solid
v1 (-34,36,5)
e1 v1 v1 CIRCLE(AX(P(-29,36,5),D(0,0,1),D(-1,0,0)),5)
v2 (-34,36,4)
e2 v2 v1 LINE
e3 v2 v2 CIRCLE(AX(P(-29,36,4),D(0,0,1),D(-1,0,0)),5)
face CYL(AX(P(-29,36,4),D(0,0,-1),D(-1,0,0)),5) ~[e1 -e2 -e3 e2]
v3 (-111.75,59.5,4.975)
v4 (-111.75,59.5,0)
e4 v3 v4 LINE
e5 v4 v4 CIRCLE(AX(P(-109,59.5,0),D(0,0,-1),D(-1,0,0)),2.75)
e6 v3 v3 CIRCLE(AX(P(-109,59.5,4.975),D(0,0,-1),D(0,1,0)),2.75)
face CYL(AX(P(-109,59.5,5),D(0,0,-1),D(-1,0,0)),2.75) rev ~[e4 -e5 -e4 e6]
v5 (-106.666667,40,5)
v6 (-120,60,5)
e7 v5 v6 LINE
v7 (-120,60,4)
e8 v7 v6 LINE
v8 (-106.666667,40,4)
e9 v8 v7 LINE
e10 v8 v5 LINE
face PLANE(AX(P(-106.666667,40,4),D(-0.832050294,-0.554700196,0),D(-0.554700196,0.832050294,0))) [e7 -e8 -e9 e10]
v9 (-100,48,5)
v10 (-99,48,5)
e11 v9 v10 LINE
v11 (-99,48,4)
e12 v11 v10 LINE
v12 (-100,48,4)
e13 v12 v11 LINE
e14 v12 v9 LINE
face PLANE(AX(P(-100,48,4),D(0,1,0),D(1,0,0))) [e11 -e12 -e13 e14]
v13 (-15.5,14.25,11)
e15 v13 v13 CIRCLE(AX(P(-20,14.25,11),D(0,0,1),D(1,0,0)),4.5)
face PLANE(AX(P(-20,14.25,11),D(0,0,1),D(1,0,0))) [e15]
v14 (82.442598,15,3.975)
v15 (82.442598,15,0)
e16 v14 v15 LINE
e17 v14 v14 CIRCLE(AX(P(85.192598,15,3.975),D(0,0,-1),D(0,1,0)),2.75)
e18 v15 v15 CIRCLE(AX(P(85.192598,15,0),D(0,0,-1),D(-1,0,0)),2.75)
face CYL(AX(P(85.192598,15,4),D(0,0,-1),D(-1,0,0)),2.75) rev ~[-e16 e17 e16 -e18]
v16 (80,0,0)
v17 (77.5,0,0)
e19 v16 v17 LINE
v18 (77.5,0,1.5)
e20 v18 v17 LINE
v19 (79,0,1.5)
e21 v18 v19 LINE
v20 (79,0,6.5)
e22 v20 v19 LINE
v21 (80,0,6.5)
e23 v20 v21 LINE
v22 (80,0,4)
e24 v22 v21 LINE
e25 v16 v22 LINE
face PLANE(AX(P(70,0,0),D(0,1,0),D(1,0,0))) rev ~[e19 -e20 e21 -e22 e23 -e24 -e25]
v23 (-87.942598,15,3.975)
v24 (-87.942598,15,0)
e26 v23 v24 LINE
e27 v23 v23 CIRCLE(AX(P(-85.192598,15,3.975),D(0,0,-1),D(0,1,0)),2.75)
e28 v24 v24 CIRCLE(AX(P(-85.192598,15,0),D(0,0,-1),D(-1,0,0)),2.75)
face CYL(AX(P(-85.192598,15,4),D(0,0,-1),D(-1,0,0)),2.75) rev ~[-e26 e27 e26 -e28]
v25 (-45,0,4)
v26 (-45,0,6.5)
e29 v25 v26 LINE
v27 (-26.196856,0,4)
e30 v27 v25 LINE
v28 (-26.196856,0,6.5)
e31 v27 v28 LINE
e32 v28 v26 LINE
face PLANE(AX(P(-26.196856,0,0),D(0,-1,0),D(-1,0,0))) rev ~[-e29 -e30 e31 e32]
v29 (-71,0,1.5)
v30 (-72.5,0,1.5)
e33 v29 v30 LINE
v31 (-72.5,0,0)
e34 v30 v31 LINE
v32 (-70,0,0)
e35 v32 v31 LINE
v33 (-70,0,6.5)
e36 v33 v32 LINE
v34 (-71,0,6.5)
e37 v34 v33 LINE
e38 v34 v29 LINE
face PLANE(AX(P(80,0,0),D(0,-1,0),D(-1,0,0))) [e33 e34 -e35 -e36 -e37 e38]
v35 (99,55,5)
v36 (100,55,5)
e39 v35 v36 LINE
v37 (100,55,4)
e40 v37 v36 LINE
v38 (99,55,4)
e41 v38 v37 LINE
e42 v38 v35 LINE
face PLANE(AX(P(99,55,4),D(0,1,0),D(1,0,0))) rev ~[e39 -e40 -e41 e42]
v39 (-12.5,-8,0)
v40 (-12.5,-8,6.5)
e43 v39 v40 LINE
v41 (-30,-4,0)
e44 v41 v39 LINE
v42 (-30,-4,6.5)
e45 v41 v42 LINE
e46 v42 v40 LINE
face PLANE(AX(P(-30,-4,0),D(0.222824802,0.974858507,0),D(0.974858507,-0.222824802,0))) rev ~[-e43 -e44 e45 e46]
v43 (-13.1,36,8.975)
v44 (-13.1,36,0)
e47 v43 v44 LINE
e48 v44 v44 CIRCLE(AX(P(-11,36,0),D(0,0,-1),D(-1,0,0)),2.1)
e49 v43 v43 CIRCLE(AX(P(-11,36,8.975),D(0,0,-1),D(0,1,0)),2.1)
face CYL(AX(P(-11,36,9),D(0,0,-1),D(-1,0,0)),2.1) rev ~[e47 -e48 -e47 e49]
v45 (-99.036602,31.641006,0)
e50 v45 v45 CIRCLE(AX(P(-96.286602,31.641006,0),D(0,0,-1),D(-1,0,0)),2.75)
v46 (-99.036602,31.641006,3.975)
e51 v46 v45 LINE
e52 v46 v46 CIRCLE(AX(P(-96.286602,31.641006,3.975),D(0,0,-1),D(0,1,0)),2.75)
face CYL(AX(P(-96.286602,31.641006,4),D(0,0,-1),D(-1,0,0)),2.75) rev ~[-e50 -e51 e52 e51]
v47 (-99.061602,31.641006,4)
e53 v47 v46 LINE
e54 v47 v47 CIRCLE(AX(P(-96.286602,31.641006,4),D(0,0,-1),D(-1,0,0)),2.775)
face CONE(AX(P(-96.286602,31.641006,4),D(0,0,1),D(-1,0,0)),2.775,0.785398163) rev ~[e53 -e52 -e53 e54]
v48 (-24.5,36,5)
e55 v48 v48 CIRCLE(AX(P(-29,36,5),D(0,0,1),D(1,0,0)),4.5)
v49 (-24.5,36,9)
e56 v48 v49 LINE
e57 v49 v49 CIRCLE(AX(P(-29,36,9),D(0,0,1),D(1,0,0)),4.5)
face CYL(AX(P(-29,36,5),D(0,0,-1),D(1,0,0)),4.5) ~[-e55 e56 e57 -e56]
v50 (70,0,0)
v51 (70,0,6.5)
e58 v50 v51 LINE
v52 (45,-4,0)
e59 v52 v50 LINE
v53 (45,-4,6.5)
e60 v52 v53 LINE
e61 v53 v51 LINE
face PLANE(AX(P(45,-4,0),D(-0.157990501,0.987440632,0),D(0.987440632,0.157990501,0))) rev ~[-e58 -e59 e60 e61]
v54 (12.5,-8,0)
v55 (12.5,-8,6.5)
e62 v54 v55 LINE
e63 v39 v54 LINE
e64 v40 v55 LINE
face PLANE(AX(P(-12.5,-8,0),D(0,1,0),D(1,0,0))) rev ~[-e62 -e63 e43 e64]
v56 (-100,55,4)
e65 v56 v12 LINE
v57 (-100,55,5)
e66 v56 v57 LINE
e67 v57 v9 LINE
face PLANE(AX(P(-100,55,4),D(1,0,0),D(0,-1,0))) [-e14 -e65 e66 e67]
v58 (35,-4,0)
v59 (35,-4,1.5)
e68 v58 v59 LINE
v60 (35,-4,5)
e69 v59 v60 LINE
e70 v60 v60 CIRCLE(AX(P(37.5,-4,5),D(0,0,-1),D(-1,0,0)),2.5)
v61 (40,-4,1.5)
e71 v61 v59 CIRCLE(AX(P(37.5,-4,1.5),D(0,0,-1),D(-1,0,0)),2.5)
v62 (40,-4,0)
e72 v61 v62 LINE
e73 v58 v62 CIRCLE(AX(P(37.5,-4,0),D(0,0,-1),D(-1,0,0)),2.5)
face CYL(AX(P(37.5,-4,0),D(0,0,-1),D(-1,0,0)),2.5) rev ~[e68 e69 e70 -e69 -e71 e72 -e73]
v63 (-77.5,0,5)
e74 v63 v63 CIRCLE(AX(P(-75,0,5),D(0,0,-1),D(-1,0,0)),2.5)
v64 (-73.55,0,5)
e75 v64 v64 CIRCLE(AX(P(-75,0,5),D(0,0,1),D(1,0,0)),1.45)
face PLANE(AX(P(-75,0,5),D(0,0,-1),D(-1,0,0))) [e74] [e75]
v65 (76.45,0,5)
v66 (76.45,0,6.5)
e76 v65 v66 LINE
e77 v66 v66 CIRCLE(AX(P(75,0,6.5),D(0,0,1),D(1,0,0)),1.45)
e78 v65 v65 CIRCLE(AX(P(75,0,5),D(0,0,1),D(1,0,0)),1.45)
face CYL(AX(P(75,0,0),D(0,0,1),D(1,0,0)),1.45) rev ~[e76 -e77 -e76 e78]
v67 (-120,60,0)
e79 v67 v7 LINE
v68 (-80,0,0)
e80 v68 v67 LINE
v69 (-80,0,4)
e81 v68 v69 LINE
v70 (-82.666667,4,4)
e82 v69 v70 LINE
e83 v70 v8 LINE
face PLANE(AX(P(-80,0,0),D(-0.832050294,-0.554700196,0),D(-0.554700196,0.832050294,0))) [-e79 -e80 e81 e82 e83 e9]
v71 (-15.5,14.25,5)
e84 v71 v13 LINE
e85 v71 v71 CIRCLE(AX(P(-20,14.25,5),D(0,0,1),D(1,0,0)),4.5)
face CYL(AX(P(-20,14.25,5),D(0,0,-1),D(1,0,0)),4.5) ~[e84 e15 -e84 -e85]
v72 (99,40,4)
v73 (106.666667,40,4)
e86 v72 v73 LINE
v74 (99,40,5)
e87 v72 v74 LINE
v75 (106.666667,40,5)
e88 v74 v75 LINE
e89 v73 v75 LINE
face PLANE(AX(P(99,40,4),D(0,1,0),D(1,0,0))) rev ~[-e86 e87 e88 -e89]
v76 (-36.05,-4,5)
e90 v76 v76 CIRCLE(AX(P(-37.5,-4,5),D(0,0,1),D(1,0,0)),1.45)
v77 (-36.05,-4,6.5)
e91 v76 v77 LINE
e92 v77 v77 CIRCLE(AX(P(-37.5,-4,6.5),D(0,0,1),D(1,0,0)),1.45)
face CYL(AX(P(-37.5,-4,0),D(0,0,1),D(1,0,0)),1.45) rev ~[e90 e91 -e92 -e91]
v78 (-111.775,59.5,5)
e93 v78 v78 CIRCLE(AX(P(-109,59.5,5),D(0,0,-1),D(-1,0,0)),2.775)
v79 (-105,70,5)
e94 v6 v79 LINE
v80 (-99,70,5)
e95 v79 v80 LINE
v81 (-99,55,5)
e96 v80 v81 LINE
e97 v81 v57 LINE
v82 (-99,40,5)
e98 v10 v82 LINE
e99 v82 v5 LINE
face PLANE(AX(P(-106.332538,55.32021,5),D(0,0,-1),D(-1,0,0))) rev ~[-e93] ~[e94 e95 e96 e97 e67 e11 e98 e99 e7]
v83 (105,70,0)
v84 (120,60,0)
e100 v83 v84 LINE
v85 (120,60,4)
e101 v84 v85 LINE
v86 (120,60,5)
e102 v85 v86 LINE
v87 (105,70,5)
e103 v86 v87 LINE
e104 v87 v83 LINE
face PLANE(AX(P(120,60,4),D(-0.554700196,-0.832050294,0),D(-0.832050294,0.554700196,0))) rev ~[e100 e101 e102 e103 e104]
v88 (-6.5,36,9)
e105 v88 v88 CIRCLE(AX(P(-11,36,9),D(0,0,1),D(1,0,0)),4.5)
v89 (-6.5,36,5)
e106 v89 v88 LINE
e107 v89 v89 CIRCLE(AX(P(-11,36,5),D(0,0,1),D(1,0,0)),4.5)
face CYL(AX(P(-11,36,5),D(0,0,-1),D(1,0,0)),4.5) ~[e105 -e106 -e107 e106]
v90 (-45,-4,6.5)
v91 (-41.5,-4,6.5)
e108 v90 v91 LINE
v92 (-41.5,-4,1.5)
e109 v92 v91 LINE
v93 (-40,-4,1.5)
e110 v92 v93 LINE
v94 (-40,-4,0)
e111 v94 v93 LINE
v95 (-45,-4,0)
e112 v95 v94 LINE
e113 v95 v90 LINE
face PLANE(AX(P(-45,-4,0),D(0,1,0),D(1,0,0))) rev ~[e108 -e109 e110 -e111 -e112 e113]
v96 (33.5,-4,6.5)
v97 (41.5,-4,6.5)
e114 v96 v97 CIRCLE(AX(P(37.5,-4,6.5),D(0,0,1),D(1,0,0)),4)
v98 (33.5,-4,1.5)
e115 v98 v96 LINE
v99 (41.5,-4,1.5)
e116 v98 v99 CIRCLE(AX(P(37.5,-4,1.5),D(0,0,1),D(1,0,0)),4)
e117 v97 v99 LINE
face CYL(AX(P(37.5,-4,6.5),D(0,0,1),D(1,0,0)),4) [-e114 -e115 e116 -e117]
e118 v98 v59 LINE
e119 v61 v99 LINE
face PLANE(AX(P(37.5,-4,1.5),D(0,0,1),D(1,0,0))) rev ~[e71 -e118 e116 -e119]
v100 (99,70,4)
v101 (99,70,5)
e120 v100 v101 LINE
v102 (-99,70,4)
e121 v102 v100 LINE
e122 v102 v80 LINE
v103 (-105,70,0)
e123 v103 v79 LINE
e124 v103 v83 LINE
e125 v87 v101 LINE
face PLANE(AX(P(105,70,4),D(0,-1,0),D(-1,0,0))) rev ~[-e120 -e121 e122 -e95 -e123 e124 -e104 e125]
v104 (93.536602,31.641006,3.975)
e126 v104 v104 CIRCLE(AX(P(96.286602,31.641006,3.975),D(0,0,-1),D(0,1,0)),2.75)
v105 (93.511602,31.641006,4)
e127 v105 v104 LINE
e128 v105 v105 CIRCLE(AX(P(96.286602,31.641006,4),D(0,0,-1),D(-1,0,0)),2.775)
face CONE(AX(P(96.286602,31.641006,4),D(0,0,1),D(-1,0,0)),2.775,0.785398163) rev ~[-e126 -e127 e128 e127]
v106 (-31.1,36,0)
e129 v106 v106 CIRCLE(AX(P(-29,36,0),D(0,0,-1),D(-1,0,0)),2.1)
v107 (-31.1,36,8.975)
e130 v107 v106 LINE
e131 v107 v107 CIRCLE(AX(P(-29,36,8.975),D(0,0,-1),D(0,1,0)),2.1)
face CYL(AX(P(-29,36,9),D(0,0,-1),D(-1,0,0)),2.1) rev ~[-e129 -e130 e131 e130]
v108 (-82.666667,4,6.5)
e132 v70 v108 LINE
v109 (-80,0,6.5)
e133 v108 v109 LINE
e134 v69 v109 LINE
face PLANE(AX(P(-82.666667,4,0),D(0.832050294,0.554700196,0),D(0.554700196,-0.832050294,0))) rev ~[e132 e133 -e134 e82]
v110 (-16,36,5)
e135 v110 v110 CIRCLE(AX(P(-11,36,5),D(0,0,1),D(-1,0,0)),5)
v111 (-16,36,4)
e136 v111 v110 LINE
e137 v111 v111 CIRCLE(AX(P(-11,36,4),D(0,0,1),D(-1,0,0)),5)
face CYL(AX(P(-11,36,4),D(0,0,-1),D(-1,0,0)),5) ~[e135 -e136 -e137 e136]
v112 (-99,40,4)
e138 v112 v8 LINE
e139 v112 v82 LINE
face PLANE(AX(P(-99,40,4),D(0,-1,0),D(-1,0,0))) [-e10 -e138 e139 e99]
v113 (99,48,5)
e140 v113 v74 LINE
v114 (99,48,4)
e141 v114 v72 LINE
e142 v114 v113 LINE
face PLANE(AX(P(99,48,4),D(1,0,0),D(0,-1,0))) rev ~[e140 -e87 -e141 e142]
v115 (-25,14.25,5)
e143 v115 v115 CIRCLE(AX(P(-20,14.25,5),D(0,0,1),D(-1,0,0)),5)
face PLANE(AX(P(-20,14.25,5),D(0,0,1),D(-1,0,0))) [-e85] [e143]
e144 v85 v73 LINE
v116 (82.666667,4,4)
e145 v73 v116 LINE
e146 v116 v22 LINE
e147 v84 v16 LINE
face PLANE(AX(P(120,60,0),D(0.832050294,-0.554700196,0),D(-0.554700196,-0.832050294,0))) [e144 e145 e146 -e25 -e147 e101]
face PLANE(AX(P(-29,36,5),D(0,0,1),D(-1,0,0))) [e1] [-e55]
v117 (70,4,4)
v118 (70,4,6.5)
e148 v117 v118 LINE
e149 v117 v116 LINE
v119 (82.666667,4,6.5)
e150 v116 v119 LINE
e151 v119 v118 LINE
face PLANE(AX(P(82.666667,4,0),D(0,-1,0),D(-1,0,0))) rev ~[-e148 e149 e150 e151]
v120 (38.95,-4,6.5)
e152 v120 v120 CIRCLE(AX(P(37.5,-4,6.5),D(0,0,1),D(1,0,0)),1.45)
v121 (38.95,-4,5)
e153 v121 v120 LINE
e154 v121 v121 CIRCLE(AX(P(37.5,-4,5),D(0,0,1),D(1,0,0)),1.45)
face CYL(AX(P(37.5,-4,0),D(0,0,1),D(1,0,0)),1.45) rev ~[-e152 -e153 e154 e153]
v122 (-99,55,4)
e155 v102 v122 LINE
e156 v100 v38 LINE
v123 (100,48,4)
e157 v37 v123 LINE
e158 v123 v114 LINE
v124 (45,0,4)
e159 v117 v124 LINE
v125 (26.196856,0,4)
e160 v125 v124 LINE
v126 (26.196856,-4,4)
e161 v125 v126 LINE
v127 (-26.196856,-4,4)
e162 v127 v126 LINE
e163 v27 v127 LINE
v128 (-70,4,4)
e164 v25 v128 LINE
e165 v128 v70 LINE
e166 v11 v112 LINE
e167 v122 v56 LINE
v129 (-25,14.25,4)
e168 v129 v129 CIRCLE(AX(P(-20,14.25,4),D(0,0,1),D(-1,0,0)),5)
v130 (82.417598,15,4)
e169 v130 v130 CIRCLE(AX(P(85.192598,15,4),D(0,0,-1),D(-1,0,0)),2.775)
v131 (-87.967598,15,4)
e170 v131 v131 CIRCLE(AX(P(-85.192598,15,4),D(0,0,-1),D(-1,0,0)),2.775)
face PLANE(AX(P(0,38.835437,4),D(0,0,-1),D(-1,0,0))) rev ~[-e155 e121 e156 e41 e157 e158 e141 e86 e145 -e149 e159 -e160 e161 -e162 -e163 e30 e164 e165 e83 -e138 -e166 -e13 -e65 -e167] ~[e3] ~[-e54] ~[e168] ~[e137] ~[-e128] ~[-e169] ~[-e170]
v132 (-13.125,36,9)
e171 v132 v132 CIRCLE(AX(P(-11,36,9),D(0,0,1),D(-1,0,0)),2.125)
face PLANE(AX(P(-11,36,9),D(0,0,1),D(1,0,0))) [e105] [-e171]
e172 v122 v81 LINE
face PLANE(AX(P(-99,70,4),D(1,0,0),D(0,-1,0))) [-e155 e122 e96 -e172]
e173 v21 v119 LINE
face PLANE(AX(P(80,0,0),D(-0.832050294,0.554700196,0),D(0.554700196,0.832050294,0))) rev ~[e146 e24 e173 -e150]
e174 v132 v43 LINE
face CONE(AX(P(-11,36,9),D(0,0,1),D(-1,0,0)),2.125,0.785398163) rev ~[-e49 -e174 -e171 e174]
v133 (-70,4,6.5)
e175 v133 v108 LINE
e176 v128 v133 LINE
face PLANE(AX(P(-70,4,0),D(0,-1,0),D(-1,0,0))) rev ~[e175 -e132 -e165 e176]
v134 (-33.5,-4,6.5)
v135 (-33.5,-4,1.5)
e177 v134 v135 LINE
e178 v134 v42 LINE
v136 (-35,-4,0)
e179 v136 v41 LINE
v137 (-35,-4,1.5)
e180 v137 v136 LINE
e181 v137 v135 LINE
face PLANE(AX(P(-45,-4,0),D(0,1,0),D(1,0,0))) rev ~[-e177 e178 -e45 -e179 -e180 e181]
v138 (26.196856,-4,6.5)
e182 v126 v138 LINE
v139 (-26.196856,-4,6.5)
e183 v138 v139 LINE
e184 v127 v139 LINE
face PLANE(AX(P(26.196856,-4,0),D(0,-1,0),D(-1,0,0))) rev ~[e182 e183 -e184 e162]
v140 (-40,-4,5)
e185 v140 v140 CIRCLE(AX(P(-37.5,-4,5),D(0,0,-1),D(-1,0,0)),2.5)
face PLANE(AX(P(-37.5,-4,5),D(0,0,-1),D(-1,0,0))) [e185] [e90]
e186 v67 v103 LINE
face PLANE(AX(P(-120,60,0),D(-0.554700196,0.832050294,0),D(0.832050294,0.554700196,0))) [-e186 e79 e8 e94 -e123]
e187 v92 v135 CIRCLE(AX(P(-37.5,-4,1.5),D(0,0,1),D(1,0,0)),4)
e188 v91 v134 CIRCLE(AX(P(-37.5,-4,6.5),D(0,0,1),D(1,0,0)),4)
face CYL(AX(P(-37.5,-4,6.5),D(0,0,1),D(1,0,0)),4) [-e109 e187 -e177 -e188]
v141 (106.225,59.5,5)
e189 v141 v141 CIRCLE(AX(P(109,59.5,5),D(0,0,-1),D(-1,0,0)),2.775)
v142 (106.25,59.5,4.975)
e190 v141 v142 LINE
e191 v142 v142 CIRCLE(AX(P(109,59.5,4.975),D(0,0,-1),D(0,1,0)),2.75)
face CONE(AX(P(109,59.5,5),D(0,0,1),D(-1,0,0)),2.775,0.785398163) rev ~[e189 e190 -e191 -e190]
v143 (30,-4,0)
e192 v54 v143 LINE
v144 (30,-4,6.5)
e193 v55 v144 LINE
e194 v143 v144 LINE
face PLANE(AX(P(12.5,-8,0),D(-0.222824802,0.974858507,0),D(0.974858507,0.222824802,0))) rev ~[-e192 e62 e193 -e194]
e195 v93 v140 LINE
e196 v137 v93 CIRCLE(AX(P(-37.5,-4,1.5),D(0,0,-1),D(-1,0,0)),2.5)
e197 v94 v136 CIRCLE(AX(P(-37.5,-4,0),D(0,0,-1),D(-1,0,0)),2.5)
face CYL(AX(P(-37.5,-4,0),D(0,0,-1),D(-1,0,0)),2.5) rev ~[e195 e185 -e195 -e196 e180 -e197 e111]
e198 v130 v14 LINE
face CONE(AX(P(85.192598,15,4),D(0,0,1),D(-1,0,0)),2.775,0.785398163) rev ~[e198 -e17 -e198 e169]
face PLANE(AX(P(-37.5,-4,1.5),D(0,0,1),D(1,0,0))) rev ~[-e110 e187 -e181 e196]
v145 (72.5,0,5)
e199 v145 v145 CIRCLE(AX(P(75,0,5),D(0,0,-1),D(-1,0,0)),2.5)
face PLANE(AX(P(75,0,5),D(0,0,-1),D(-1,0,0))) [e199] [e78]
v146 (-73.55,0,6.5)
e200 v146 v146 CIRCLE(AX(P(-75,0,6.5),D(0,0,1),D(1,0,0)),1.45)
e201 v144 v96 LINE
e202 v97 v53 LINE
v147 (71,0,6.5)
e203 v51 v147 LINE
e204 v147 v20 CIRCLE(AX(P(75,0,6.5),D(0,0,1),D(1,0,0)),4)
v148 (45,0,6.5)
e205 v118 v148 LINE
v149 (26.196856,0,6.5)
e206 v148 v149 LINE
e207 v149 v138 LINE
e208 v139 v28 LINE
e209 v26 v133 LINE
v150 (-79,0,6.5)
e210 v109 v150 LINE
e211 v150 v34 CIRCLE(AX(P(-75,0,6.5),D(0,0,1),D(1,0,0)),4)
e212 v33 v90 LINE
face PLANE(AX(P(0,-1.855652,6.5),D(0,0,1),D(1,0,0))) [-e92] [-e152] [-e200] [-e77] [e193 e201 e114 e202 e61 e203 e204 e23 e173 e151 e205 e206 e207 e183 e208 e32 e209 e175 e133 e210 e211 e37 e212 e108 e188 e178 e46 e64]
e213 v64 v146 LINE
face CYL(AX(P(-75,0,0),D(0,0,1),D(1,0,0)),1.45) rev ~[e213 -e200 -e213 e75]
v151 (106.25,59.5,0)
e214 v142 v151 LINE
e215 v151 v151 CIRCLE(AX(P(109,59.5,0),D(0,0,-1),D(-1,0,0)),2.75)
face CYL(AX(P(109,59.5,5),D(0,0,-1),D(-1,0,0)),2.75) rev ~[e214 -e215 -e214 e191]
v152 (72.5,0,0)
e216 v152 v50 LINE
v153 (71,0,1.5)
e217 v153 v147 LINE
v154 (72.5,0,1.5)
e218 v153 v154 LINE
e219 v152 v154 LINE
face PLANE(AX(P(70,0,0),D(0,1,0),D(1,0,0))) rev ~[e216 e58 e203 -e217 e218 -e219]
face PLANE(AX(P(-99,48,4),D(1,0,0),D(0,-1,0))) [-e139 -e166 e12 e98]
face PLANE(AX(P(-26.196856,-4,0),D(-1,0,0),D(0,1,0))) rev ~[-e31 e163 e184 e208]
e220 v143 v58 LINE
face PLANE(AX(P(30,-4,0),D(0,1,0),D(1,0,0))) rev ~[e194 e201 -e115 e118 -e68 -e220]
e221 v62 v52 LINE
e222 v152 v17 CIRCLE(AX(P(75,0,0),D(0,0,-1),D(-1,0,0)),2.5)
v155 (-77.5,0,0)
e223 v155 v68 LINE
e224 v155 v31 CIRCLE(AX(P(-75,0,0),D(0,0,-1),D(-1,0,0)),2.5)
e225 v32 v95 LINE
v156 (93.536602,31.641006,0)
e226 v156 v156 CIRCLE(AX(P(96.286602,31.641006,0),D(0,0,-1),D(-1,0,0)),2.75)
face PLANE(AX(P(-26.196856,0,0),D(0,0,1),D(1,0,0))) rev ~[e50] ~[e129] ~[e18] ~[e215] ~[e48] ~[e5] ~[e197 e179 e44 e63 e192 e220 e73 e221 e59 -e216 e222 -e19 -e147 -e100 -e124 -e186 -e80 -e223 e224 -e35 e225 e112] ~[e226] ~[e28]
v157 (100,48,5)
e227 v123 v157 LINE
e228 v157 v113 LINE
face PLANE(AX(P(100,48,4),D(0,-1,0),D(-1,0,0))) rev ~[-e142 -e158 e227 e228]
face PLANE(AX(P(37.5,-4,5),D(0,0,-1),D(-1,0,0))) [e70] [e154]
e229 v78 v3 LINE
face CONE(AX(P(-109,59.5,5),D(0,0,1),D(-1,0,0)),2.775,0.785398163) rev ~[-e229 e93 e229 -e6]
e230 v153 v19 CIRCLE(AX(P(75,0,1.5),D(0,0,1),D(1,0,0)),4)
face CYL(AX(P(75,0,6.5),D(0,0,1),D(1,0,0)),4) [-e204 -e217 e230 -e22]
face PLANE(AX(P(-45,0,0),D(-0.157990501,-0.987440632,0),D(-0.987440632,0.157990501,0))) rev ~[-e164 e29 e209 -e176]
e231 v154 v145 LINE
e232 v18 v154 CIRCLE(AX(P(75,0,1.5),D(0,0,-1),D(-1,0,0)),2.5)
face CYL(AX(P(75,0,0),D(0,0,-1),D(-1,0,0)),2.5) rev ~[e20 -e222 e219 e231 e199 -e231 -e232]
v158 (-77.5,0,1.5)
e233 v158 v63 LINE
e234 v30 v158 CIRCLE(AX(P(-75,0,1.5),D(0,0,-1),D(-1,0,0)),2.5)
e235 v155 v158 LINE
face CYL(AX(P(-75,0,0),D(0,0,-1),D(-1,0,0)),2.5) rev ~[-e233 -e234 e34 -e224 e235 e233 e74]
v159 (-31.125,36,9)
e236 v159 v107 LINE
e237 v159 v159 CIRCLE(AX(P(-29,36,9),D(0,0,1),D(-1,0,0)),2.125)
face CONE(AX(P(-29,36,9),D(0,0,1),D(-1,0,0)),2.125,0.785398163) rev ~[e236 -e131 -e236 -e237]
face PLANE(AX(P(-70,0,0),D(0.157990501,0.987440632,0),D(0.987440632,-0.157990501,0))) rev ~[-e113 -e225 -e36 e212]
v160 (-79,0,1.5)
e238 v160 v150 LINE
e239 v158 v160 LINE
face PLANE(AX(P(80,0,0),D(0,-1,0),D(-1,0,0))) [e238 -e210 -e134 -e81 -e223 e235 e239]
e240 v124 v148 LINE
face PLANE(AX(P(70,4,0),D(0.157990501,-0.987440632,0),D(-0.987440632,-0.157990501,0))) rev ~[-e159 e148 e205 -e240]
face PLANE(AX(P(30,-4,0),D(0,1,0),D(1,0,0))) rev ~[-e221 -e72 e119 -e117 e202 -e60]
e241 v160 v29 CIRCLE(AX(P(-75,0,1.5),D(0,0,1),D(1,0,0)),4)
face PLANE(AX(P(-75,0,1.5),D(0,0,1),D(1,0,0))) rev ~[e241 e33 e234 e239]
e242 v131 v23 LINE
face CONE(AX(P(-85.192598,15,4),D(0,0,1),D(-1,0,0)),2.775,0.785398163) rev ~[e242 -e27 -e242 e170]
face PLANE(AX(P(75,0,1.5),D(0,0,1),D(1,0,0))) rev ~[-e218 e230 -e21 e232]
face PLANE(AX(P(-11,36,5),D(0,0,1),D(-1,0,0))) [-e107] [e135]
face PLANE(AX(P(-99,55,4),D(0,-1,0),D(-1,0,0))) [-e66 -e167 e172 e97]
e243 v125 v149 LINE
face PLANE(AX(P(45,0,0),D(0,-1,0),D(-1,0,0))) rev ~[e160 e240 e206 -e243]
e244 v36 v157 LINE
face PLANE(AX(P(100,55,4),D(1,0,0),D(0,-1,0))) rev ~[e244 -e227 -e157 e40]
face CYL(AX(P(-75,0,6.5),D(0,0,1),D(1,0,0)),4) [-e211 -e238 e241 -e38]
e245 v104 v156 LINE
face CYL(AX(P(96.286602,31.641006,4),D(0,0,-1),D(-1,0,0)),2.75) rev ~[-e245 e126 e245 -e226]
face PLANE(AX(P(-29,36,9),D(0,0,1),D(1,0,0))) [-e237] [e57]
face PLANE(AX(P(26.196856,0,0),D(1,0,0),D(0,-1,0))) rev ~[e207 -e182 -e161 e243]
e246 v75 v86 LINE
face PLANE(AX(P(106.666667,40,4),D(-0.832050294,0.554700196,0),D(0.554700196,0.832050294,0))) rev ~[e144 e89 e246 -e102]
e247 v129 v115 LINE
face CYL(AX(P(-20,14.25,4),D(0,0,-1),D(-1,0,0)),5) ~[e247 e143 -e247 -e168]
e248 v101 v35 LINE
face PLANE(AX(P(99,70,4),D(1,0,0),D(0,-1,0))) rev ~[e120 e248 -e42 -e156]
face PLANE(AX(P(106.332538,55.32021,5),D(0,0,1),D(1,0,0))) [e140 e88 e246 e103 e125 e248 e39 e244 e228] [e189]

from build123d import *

# Parameters (mm, degrees)
EXTRUDE_1_DEPTH                = 4
EXTRUDE_2_DEPTH                = 1
HOLE_WIZARD_M5_1_D             = 5.5
HOLE_WIZARD_M5_1_CSINK_D       = 5.55
HOLE_WIZARD_M5_1_CSINK_ANGLE   = 90
EXTRUDE_START                  = -4
EXTRUDE_3_DEPTH                = 6.5
SKETCH_22_W                    = 52.393711498
SKETCH_22_H                    = 4
EXTRUDE_4_DEPTH                = 4
SKETCH_23_R                    = 4
EXTRUDE_5_DEPTH                = 5
HOLE_WIZARD_M2_5_1_D           = 2.9
HOLE_WIZARD_M2_5_1_DEPTH       = 10
HOLE_WIZARD_M2_5_1_CSINK_D     = 2.95
HOLE_WIZARD_M2_5_1_CSINK_ANGLE = 90
HOLE_WIZARD_M2_5_1_TIP         = 0.871247898
SKETCH_27_R                    = 2.5
CUT_EXTRUDE_4_DEPTH            = 5
SKETCH_28_R                    = 5
EXTRUDE_6_DEPTH                = 1
SKETCH_29_R                    = 4.5
EXTRUDE_7_DEPTH                = 6
SKETCH_30_R                    = 4.5
EXTRUDE_8_DEPTH                = 4
HOLE_WIZARD_M5_1_2_D           = 4.2
HOLE_WIZARD_M5_1_2_CSINK_D     = 4.25
HOLE_WIZARD_M5_1_2_CSINK_ANGLE = 90
HOLE_WIZARD_M5_2_D             = 5.5
HOLE_WIZARD_M5_2_DEPTH         = 10
HOLE_WIZARD_M5_2_CSINK_D       = 5.55
HOLE_WIZARD_M5_2_CSINK_ANGLE   = 90
HOLE_WIZARD_M5_2_TIP           = 1.652366702


with BuildPart() as part:
    # 草图2 → 凸台-拉伸1 (new body)
    with BuildSketch(Plane.XY):
        Polygon((80, 0), (-80, 0), (-120, 60), (-105, 70), (105, 70), (120, 60), align=None)
    extrude(amount=EXTRUDE_1_DEPTH)

    # 草图3 → 凸台-拉伸2 (add)
    with BuildSketch(Plane.XY.offset(4)):
        Polygon((105, 70), (99, 70), (99, 55), (100, 55), (100, 48), (99, 48), (99, 40), (106.666666667, 40), (120, 60), align=None)
        Polygon((-120, 60), (-105, 70), (-99, 70), (-99, 55), (-100, 55), (-100, 48), (-99, 48), (-99, 40), (-106.666666667, 40), align=None)
    extrude(amount=EXTRUDE_2_DEPTH)

    # Hole Wizard M5 _1 (through all)
    with Locations(Plane.XY.offset(5)):
        with Locations((-109, 59.5), (109, 59.5)):
            CounterSinkHole(HOLE_WIZARD_M5_1_D / 2, HOLE_WIZARD_M5_1_CSINK_D / 2, counter_sink_angle=HOLE_WIZARD_M5_1_CSINK_ANGLE)

    # 草图21 → 凸台-拉伸3 (add)
    with BuildSketch(Plane.XY.offset(4).offset(EXTRUDE_START)):
        Polygon((-70, 0), (-45, -4), (-30, -4), (-12.5, -8), (12.5, -8), (30, -4), (45, -4), (70, 0), (80, 0), (82.666666667, 4), (70, 4), (45, 0), (26.196855749, 0), (26.196855749, -4), (-26.196855749, -4), (-26.196855749, 0), (-45, 0), (-70, 4), (-82.666666667, 4), (-80, 0), align=None)
    extrude(amount=EXTRUDE_3_DEPTH)

    # 草图22 → 凸台-拉伸4 (add)
    with BuildSketch(Plane.XZ):
        with Locations((0, 2)):
            Rectangle(SKETCH_22_W, SKETCH_22_H)
    extrude(amount=EXTRUDE_4_DEPTH)

    # 草图23 → 凸台-拉伸5 (add)
    with BuildSketch(Plane.XY.offset(6.5)):
        with Locations((-75, 0)):
            Circle(SKETCH_23_R)
        with Locations((-37.5, -4)):
            Circle(SKETCH_23_R)
        with Locations((37.5, -4)):
            Circle(SKETCH_23_R)
        with Locations((75, 0)):
            Circle(SKETCH_23_R)
    extrude(amount=-EXTRUDE_5_DEPTH)

    # M2.5 间隙孔1
    with Locations(Plane(origin=(0, 0, 0), x_dir=(-1, 0, 0), z_dir=(0, 0, -1))):
        with Locations((-75, 0), (-37.5, -4), (37.5, -4), (75, 0)):
            CounterSinkHole(HOLE_WIZARD_M2_5_1_D / 2, HOLE_WIZARD_M2_5_1_CSINK_D / 2, depth=HOLE_WIZARD_M2_5_1_DEPTH, counter_sink_angle=HOLE_WIZARD_M2_5_1_CSINK_ANGLE)
            with Locations((0, 0, -(HOLE_WIZARD_M2_5_1_DEPTH + HOLE_WIZARD_M2_5_1_TIP / 2))):  # 118° drill point
                Cone(0, HOLE_WIZARD_M2_5_1_D / 2, HOLE_WIZARD_M2_5_1_TIP, mode=Mode.SUBTRACT)

    # 草图27 → 切除-拉伸4 (cut)
    with BuildSketch(Plane(origin=(0, 0, 0), x_dir=(-1, 0, 0), z_dir=(0, 0, -1))):
        with Locations((-75, 0)):
            Circle(SKETCH_27_R)
        with Locations((-37.5, -4)):
            Circle(SKETCH_27_R)
        with Locations((75, 0)):
            Circle(SKETCH_27_R)
        with Locations((37.5, -4)):
            Circle(SKETCH_27_R)
    extrude(amount=-CUT_EXTRUDE_4_DEPTH, mode=Mode.SUBTRACT)

    # 草图28 → 凸台-拉伸6 (add)
    with BuildSketch(Plane.XY.offset(4)):
        with Locations(Location((-20, 14.25, 0), (0, 0, 180))):
            Circle(SKETCH_28_R)
        with Locations(Location((-29, 36, 0), (0, 0, 180))):
            Circle(SKETCH_28_R)
        with Locations(Location((-11, 36, 0), (0, 0, 180))):
            Circle(SKETCH_28_R)
    extrude(amount=EXTRUDE_6_DEPTH)

    # 草图29 → 凸台-拉伸7 (add)
    with BuildSketch(Plane.XY.offset(5)):
        with Locations((-20, 14.25)):
            Circle(SKETCH_29_R)
    extrude(amount=EXTRUDE_7_DEPTH)

    # 草图30 → 凸台-拉伸8 (add)
    with BuildSketch(Plane.XY.offset(5)):
        with Locations((-11, 36)):
            Circle(SKETCH_30_R)
        with Locations((-29, 36)):
            Circle(SKETCH_30_R)
    extrude(amount=EXTRUDE_8_DEPTH)

    # Hole Wizard M5 _1 2 (through all)
    with Locations(Plane.XY.offset(9)):
        with Locations((-29, 36), (-11, 36)):
            CounterSinkHole(HOLE_WIZARD_M5_1_2_D / 2, HOLE_WIZARD_M5_1_2_CSINK_D / 2, counter_sink_angle=HOLE_WIZARD_M5_1_2_CSINK_ANGLE)

    # M5 间隙孔2
    with Locations(Plane.XY.offset(4)):
        with Locations((-96.286602224, 31.641005887), (-85.192598299, 15), (96.286602224, 31.641005887), (85.192598299, 15)):
            CounterSinkHole(HOLE_WIZARD_M5_2_D / 2, HOLE_WIZARD_M5_2_CSINK_D / 2, depth=HOLE_WIZARD_M5_2_DEPTH, counter_sink_angle=HOLE_WIZARD_M5_2_CSINK_ANGLE)
            with Locations((0, 0, -(HOLE_WIZARD_M5_2_DEPTH + HOLE_WIZARD_M5_2_TIP / 2))):  # 118° drill point
                Cone(0, HOLE_WIZARD_M5_2_D / 2, HOLE_WIZARD_M5_2_TIP, mode=Mode.SUBTRACT)


solid = part.part
